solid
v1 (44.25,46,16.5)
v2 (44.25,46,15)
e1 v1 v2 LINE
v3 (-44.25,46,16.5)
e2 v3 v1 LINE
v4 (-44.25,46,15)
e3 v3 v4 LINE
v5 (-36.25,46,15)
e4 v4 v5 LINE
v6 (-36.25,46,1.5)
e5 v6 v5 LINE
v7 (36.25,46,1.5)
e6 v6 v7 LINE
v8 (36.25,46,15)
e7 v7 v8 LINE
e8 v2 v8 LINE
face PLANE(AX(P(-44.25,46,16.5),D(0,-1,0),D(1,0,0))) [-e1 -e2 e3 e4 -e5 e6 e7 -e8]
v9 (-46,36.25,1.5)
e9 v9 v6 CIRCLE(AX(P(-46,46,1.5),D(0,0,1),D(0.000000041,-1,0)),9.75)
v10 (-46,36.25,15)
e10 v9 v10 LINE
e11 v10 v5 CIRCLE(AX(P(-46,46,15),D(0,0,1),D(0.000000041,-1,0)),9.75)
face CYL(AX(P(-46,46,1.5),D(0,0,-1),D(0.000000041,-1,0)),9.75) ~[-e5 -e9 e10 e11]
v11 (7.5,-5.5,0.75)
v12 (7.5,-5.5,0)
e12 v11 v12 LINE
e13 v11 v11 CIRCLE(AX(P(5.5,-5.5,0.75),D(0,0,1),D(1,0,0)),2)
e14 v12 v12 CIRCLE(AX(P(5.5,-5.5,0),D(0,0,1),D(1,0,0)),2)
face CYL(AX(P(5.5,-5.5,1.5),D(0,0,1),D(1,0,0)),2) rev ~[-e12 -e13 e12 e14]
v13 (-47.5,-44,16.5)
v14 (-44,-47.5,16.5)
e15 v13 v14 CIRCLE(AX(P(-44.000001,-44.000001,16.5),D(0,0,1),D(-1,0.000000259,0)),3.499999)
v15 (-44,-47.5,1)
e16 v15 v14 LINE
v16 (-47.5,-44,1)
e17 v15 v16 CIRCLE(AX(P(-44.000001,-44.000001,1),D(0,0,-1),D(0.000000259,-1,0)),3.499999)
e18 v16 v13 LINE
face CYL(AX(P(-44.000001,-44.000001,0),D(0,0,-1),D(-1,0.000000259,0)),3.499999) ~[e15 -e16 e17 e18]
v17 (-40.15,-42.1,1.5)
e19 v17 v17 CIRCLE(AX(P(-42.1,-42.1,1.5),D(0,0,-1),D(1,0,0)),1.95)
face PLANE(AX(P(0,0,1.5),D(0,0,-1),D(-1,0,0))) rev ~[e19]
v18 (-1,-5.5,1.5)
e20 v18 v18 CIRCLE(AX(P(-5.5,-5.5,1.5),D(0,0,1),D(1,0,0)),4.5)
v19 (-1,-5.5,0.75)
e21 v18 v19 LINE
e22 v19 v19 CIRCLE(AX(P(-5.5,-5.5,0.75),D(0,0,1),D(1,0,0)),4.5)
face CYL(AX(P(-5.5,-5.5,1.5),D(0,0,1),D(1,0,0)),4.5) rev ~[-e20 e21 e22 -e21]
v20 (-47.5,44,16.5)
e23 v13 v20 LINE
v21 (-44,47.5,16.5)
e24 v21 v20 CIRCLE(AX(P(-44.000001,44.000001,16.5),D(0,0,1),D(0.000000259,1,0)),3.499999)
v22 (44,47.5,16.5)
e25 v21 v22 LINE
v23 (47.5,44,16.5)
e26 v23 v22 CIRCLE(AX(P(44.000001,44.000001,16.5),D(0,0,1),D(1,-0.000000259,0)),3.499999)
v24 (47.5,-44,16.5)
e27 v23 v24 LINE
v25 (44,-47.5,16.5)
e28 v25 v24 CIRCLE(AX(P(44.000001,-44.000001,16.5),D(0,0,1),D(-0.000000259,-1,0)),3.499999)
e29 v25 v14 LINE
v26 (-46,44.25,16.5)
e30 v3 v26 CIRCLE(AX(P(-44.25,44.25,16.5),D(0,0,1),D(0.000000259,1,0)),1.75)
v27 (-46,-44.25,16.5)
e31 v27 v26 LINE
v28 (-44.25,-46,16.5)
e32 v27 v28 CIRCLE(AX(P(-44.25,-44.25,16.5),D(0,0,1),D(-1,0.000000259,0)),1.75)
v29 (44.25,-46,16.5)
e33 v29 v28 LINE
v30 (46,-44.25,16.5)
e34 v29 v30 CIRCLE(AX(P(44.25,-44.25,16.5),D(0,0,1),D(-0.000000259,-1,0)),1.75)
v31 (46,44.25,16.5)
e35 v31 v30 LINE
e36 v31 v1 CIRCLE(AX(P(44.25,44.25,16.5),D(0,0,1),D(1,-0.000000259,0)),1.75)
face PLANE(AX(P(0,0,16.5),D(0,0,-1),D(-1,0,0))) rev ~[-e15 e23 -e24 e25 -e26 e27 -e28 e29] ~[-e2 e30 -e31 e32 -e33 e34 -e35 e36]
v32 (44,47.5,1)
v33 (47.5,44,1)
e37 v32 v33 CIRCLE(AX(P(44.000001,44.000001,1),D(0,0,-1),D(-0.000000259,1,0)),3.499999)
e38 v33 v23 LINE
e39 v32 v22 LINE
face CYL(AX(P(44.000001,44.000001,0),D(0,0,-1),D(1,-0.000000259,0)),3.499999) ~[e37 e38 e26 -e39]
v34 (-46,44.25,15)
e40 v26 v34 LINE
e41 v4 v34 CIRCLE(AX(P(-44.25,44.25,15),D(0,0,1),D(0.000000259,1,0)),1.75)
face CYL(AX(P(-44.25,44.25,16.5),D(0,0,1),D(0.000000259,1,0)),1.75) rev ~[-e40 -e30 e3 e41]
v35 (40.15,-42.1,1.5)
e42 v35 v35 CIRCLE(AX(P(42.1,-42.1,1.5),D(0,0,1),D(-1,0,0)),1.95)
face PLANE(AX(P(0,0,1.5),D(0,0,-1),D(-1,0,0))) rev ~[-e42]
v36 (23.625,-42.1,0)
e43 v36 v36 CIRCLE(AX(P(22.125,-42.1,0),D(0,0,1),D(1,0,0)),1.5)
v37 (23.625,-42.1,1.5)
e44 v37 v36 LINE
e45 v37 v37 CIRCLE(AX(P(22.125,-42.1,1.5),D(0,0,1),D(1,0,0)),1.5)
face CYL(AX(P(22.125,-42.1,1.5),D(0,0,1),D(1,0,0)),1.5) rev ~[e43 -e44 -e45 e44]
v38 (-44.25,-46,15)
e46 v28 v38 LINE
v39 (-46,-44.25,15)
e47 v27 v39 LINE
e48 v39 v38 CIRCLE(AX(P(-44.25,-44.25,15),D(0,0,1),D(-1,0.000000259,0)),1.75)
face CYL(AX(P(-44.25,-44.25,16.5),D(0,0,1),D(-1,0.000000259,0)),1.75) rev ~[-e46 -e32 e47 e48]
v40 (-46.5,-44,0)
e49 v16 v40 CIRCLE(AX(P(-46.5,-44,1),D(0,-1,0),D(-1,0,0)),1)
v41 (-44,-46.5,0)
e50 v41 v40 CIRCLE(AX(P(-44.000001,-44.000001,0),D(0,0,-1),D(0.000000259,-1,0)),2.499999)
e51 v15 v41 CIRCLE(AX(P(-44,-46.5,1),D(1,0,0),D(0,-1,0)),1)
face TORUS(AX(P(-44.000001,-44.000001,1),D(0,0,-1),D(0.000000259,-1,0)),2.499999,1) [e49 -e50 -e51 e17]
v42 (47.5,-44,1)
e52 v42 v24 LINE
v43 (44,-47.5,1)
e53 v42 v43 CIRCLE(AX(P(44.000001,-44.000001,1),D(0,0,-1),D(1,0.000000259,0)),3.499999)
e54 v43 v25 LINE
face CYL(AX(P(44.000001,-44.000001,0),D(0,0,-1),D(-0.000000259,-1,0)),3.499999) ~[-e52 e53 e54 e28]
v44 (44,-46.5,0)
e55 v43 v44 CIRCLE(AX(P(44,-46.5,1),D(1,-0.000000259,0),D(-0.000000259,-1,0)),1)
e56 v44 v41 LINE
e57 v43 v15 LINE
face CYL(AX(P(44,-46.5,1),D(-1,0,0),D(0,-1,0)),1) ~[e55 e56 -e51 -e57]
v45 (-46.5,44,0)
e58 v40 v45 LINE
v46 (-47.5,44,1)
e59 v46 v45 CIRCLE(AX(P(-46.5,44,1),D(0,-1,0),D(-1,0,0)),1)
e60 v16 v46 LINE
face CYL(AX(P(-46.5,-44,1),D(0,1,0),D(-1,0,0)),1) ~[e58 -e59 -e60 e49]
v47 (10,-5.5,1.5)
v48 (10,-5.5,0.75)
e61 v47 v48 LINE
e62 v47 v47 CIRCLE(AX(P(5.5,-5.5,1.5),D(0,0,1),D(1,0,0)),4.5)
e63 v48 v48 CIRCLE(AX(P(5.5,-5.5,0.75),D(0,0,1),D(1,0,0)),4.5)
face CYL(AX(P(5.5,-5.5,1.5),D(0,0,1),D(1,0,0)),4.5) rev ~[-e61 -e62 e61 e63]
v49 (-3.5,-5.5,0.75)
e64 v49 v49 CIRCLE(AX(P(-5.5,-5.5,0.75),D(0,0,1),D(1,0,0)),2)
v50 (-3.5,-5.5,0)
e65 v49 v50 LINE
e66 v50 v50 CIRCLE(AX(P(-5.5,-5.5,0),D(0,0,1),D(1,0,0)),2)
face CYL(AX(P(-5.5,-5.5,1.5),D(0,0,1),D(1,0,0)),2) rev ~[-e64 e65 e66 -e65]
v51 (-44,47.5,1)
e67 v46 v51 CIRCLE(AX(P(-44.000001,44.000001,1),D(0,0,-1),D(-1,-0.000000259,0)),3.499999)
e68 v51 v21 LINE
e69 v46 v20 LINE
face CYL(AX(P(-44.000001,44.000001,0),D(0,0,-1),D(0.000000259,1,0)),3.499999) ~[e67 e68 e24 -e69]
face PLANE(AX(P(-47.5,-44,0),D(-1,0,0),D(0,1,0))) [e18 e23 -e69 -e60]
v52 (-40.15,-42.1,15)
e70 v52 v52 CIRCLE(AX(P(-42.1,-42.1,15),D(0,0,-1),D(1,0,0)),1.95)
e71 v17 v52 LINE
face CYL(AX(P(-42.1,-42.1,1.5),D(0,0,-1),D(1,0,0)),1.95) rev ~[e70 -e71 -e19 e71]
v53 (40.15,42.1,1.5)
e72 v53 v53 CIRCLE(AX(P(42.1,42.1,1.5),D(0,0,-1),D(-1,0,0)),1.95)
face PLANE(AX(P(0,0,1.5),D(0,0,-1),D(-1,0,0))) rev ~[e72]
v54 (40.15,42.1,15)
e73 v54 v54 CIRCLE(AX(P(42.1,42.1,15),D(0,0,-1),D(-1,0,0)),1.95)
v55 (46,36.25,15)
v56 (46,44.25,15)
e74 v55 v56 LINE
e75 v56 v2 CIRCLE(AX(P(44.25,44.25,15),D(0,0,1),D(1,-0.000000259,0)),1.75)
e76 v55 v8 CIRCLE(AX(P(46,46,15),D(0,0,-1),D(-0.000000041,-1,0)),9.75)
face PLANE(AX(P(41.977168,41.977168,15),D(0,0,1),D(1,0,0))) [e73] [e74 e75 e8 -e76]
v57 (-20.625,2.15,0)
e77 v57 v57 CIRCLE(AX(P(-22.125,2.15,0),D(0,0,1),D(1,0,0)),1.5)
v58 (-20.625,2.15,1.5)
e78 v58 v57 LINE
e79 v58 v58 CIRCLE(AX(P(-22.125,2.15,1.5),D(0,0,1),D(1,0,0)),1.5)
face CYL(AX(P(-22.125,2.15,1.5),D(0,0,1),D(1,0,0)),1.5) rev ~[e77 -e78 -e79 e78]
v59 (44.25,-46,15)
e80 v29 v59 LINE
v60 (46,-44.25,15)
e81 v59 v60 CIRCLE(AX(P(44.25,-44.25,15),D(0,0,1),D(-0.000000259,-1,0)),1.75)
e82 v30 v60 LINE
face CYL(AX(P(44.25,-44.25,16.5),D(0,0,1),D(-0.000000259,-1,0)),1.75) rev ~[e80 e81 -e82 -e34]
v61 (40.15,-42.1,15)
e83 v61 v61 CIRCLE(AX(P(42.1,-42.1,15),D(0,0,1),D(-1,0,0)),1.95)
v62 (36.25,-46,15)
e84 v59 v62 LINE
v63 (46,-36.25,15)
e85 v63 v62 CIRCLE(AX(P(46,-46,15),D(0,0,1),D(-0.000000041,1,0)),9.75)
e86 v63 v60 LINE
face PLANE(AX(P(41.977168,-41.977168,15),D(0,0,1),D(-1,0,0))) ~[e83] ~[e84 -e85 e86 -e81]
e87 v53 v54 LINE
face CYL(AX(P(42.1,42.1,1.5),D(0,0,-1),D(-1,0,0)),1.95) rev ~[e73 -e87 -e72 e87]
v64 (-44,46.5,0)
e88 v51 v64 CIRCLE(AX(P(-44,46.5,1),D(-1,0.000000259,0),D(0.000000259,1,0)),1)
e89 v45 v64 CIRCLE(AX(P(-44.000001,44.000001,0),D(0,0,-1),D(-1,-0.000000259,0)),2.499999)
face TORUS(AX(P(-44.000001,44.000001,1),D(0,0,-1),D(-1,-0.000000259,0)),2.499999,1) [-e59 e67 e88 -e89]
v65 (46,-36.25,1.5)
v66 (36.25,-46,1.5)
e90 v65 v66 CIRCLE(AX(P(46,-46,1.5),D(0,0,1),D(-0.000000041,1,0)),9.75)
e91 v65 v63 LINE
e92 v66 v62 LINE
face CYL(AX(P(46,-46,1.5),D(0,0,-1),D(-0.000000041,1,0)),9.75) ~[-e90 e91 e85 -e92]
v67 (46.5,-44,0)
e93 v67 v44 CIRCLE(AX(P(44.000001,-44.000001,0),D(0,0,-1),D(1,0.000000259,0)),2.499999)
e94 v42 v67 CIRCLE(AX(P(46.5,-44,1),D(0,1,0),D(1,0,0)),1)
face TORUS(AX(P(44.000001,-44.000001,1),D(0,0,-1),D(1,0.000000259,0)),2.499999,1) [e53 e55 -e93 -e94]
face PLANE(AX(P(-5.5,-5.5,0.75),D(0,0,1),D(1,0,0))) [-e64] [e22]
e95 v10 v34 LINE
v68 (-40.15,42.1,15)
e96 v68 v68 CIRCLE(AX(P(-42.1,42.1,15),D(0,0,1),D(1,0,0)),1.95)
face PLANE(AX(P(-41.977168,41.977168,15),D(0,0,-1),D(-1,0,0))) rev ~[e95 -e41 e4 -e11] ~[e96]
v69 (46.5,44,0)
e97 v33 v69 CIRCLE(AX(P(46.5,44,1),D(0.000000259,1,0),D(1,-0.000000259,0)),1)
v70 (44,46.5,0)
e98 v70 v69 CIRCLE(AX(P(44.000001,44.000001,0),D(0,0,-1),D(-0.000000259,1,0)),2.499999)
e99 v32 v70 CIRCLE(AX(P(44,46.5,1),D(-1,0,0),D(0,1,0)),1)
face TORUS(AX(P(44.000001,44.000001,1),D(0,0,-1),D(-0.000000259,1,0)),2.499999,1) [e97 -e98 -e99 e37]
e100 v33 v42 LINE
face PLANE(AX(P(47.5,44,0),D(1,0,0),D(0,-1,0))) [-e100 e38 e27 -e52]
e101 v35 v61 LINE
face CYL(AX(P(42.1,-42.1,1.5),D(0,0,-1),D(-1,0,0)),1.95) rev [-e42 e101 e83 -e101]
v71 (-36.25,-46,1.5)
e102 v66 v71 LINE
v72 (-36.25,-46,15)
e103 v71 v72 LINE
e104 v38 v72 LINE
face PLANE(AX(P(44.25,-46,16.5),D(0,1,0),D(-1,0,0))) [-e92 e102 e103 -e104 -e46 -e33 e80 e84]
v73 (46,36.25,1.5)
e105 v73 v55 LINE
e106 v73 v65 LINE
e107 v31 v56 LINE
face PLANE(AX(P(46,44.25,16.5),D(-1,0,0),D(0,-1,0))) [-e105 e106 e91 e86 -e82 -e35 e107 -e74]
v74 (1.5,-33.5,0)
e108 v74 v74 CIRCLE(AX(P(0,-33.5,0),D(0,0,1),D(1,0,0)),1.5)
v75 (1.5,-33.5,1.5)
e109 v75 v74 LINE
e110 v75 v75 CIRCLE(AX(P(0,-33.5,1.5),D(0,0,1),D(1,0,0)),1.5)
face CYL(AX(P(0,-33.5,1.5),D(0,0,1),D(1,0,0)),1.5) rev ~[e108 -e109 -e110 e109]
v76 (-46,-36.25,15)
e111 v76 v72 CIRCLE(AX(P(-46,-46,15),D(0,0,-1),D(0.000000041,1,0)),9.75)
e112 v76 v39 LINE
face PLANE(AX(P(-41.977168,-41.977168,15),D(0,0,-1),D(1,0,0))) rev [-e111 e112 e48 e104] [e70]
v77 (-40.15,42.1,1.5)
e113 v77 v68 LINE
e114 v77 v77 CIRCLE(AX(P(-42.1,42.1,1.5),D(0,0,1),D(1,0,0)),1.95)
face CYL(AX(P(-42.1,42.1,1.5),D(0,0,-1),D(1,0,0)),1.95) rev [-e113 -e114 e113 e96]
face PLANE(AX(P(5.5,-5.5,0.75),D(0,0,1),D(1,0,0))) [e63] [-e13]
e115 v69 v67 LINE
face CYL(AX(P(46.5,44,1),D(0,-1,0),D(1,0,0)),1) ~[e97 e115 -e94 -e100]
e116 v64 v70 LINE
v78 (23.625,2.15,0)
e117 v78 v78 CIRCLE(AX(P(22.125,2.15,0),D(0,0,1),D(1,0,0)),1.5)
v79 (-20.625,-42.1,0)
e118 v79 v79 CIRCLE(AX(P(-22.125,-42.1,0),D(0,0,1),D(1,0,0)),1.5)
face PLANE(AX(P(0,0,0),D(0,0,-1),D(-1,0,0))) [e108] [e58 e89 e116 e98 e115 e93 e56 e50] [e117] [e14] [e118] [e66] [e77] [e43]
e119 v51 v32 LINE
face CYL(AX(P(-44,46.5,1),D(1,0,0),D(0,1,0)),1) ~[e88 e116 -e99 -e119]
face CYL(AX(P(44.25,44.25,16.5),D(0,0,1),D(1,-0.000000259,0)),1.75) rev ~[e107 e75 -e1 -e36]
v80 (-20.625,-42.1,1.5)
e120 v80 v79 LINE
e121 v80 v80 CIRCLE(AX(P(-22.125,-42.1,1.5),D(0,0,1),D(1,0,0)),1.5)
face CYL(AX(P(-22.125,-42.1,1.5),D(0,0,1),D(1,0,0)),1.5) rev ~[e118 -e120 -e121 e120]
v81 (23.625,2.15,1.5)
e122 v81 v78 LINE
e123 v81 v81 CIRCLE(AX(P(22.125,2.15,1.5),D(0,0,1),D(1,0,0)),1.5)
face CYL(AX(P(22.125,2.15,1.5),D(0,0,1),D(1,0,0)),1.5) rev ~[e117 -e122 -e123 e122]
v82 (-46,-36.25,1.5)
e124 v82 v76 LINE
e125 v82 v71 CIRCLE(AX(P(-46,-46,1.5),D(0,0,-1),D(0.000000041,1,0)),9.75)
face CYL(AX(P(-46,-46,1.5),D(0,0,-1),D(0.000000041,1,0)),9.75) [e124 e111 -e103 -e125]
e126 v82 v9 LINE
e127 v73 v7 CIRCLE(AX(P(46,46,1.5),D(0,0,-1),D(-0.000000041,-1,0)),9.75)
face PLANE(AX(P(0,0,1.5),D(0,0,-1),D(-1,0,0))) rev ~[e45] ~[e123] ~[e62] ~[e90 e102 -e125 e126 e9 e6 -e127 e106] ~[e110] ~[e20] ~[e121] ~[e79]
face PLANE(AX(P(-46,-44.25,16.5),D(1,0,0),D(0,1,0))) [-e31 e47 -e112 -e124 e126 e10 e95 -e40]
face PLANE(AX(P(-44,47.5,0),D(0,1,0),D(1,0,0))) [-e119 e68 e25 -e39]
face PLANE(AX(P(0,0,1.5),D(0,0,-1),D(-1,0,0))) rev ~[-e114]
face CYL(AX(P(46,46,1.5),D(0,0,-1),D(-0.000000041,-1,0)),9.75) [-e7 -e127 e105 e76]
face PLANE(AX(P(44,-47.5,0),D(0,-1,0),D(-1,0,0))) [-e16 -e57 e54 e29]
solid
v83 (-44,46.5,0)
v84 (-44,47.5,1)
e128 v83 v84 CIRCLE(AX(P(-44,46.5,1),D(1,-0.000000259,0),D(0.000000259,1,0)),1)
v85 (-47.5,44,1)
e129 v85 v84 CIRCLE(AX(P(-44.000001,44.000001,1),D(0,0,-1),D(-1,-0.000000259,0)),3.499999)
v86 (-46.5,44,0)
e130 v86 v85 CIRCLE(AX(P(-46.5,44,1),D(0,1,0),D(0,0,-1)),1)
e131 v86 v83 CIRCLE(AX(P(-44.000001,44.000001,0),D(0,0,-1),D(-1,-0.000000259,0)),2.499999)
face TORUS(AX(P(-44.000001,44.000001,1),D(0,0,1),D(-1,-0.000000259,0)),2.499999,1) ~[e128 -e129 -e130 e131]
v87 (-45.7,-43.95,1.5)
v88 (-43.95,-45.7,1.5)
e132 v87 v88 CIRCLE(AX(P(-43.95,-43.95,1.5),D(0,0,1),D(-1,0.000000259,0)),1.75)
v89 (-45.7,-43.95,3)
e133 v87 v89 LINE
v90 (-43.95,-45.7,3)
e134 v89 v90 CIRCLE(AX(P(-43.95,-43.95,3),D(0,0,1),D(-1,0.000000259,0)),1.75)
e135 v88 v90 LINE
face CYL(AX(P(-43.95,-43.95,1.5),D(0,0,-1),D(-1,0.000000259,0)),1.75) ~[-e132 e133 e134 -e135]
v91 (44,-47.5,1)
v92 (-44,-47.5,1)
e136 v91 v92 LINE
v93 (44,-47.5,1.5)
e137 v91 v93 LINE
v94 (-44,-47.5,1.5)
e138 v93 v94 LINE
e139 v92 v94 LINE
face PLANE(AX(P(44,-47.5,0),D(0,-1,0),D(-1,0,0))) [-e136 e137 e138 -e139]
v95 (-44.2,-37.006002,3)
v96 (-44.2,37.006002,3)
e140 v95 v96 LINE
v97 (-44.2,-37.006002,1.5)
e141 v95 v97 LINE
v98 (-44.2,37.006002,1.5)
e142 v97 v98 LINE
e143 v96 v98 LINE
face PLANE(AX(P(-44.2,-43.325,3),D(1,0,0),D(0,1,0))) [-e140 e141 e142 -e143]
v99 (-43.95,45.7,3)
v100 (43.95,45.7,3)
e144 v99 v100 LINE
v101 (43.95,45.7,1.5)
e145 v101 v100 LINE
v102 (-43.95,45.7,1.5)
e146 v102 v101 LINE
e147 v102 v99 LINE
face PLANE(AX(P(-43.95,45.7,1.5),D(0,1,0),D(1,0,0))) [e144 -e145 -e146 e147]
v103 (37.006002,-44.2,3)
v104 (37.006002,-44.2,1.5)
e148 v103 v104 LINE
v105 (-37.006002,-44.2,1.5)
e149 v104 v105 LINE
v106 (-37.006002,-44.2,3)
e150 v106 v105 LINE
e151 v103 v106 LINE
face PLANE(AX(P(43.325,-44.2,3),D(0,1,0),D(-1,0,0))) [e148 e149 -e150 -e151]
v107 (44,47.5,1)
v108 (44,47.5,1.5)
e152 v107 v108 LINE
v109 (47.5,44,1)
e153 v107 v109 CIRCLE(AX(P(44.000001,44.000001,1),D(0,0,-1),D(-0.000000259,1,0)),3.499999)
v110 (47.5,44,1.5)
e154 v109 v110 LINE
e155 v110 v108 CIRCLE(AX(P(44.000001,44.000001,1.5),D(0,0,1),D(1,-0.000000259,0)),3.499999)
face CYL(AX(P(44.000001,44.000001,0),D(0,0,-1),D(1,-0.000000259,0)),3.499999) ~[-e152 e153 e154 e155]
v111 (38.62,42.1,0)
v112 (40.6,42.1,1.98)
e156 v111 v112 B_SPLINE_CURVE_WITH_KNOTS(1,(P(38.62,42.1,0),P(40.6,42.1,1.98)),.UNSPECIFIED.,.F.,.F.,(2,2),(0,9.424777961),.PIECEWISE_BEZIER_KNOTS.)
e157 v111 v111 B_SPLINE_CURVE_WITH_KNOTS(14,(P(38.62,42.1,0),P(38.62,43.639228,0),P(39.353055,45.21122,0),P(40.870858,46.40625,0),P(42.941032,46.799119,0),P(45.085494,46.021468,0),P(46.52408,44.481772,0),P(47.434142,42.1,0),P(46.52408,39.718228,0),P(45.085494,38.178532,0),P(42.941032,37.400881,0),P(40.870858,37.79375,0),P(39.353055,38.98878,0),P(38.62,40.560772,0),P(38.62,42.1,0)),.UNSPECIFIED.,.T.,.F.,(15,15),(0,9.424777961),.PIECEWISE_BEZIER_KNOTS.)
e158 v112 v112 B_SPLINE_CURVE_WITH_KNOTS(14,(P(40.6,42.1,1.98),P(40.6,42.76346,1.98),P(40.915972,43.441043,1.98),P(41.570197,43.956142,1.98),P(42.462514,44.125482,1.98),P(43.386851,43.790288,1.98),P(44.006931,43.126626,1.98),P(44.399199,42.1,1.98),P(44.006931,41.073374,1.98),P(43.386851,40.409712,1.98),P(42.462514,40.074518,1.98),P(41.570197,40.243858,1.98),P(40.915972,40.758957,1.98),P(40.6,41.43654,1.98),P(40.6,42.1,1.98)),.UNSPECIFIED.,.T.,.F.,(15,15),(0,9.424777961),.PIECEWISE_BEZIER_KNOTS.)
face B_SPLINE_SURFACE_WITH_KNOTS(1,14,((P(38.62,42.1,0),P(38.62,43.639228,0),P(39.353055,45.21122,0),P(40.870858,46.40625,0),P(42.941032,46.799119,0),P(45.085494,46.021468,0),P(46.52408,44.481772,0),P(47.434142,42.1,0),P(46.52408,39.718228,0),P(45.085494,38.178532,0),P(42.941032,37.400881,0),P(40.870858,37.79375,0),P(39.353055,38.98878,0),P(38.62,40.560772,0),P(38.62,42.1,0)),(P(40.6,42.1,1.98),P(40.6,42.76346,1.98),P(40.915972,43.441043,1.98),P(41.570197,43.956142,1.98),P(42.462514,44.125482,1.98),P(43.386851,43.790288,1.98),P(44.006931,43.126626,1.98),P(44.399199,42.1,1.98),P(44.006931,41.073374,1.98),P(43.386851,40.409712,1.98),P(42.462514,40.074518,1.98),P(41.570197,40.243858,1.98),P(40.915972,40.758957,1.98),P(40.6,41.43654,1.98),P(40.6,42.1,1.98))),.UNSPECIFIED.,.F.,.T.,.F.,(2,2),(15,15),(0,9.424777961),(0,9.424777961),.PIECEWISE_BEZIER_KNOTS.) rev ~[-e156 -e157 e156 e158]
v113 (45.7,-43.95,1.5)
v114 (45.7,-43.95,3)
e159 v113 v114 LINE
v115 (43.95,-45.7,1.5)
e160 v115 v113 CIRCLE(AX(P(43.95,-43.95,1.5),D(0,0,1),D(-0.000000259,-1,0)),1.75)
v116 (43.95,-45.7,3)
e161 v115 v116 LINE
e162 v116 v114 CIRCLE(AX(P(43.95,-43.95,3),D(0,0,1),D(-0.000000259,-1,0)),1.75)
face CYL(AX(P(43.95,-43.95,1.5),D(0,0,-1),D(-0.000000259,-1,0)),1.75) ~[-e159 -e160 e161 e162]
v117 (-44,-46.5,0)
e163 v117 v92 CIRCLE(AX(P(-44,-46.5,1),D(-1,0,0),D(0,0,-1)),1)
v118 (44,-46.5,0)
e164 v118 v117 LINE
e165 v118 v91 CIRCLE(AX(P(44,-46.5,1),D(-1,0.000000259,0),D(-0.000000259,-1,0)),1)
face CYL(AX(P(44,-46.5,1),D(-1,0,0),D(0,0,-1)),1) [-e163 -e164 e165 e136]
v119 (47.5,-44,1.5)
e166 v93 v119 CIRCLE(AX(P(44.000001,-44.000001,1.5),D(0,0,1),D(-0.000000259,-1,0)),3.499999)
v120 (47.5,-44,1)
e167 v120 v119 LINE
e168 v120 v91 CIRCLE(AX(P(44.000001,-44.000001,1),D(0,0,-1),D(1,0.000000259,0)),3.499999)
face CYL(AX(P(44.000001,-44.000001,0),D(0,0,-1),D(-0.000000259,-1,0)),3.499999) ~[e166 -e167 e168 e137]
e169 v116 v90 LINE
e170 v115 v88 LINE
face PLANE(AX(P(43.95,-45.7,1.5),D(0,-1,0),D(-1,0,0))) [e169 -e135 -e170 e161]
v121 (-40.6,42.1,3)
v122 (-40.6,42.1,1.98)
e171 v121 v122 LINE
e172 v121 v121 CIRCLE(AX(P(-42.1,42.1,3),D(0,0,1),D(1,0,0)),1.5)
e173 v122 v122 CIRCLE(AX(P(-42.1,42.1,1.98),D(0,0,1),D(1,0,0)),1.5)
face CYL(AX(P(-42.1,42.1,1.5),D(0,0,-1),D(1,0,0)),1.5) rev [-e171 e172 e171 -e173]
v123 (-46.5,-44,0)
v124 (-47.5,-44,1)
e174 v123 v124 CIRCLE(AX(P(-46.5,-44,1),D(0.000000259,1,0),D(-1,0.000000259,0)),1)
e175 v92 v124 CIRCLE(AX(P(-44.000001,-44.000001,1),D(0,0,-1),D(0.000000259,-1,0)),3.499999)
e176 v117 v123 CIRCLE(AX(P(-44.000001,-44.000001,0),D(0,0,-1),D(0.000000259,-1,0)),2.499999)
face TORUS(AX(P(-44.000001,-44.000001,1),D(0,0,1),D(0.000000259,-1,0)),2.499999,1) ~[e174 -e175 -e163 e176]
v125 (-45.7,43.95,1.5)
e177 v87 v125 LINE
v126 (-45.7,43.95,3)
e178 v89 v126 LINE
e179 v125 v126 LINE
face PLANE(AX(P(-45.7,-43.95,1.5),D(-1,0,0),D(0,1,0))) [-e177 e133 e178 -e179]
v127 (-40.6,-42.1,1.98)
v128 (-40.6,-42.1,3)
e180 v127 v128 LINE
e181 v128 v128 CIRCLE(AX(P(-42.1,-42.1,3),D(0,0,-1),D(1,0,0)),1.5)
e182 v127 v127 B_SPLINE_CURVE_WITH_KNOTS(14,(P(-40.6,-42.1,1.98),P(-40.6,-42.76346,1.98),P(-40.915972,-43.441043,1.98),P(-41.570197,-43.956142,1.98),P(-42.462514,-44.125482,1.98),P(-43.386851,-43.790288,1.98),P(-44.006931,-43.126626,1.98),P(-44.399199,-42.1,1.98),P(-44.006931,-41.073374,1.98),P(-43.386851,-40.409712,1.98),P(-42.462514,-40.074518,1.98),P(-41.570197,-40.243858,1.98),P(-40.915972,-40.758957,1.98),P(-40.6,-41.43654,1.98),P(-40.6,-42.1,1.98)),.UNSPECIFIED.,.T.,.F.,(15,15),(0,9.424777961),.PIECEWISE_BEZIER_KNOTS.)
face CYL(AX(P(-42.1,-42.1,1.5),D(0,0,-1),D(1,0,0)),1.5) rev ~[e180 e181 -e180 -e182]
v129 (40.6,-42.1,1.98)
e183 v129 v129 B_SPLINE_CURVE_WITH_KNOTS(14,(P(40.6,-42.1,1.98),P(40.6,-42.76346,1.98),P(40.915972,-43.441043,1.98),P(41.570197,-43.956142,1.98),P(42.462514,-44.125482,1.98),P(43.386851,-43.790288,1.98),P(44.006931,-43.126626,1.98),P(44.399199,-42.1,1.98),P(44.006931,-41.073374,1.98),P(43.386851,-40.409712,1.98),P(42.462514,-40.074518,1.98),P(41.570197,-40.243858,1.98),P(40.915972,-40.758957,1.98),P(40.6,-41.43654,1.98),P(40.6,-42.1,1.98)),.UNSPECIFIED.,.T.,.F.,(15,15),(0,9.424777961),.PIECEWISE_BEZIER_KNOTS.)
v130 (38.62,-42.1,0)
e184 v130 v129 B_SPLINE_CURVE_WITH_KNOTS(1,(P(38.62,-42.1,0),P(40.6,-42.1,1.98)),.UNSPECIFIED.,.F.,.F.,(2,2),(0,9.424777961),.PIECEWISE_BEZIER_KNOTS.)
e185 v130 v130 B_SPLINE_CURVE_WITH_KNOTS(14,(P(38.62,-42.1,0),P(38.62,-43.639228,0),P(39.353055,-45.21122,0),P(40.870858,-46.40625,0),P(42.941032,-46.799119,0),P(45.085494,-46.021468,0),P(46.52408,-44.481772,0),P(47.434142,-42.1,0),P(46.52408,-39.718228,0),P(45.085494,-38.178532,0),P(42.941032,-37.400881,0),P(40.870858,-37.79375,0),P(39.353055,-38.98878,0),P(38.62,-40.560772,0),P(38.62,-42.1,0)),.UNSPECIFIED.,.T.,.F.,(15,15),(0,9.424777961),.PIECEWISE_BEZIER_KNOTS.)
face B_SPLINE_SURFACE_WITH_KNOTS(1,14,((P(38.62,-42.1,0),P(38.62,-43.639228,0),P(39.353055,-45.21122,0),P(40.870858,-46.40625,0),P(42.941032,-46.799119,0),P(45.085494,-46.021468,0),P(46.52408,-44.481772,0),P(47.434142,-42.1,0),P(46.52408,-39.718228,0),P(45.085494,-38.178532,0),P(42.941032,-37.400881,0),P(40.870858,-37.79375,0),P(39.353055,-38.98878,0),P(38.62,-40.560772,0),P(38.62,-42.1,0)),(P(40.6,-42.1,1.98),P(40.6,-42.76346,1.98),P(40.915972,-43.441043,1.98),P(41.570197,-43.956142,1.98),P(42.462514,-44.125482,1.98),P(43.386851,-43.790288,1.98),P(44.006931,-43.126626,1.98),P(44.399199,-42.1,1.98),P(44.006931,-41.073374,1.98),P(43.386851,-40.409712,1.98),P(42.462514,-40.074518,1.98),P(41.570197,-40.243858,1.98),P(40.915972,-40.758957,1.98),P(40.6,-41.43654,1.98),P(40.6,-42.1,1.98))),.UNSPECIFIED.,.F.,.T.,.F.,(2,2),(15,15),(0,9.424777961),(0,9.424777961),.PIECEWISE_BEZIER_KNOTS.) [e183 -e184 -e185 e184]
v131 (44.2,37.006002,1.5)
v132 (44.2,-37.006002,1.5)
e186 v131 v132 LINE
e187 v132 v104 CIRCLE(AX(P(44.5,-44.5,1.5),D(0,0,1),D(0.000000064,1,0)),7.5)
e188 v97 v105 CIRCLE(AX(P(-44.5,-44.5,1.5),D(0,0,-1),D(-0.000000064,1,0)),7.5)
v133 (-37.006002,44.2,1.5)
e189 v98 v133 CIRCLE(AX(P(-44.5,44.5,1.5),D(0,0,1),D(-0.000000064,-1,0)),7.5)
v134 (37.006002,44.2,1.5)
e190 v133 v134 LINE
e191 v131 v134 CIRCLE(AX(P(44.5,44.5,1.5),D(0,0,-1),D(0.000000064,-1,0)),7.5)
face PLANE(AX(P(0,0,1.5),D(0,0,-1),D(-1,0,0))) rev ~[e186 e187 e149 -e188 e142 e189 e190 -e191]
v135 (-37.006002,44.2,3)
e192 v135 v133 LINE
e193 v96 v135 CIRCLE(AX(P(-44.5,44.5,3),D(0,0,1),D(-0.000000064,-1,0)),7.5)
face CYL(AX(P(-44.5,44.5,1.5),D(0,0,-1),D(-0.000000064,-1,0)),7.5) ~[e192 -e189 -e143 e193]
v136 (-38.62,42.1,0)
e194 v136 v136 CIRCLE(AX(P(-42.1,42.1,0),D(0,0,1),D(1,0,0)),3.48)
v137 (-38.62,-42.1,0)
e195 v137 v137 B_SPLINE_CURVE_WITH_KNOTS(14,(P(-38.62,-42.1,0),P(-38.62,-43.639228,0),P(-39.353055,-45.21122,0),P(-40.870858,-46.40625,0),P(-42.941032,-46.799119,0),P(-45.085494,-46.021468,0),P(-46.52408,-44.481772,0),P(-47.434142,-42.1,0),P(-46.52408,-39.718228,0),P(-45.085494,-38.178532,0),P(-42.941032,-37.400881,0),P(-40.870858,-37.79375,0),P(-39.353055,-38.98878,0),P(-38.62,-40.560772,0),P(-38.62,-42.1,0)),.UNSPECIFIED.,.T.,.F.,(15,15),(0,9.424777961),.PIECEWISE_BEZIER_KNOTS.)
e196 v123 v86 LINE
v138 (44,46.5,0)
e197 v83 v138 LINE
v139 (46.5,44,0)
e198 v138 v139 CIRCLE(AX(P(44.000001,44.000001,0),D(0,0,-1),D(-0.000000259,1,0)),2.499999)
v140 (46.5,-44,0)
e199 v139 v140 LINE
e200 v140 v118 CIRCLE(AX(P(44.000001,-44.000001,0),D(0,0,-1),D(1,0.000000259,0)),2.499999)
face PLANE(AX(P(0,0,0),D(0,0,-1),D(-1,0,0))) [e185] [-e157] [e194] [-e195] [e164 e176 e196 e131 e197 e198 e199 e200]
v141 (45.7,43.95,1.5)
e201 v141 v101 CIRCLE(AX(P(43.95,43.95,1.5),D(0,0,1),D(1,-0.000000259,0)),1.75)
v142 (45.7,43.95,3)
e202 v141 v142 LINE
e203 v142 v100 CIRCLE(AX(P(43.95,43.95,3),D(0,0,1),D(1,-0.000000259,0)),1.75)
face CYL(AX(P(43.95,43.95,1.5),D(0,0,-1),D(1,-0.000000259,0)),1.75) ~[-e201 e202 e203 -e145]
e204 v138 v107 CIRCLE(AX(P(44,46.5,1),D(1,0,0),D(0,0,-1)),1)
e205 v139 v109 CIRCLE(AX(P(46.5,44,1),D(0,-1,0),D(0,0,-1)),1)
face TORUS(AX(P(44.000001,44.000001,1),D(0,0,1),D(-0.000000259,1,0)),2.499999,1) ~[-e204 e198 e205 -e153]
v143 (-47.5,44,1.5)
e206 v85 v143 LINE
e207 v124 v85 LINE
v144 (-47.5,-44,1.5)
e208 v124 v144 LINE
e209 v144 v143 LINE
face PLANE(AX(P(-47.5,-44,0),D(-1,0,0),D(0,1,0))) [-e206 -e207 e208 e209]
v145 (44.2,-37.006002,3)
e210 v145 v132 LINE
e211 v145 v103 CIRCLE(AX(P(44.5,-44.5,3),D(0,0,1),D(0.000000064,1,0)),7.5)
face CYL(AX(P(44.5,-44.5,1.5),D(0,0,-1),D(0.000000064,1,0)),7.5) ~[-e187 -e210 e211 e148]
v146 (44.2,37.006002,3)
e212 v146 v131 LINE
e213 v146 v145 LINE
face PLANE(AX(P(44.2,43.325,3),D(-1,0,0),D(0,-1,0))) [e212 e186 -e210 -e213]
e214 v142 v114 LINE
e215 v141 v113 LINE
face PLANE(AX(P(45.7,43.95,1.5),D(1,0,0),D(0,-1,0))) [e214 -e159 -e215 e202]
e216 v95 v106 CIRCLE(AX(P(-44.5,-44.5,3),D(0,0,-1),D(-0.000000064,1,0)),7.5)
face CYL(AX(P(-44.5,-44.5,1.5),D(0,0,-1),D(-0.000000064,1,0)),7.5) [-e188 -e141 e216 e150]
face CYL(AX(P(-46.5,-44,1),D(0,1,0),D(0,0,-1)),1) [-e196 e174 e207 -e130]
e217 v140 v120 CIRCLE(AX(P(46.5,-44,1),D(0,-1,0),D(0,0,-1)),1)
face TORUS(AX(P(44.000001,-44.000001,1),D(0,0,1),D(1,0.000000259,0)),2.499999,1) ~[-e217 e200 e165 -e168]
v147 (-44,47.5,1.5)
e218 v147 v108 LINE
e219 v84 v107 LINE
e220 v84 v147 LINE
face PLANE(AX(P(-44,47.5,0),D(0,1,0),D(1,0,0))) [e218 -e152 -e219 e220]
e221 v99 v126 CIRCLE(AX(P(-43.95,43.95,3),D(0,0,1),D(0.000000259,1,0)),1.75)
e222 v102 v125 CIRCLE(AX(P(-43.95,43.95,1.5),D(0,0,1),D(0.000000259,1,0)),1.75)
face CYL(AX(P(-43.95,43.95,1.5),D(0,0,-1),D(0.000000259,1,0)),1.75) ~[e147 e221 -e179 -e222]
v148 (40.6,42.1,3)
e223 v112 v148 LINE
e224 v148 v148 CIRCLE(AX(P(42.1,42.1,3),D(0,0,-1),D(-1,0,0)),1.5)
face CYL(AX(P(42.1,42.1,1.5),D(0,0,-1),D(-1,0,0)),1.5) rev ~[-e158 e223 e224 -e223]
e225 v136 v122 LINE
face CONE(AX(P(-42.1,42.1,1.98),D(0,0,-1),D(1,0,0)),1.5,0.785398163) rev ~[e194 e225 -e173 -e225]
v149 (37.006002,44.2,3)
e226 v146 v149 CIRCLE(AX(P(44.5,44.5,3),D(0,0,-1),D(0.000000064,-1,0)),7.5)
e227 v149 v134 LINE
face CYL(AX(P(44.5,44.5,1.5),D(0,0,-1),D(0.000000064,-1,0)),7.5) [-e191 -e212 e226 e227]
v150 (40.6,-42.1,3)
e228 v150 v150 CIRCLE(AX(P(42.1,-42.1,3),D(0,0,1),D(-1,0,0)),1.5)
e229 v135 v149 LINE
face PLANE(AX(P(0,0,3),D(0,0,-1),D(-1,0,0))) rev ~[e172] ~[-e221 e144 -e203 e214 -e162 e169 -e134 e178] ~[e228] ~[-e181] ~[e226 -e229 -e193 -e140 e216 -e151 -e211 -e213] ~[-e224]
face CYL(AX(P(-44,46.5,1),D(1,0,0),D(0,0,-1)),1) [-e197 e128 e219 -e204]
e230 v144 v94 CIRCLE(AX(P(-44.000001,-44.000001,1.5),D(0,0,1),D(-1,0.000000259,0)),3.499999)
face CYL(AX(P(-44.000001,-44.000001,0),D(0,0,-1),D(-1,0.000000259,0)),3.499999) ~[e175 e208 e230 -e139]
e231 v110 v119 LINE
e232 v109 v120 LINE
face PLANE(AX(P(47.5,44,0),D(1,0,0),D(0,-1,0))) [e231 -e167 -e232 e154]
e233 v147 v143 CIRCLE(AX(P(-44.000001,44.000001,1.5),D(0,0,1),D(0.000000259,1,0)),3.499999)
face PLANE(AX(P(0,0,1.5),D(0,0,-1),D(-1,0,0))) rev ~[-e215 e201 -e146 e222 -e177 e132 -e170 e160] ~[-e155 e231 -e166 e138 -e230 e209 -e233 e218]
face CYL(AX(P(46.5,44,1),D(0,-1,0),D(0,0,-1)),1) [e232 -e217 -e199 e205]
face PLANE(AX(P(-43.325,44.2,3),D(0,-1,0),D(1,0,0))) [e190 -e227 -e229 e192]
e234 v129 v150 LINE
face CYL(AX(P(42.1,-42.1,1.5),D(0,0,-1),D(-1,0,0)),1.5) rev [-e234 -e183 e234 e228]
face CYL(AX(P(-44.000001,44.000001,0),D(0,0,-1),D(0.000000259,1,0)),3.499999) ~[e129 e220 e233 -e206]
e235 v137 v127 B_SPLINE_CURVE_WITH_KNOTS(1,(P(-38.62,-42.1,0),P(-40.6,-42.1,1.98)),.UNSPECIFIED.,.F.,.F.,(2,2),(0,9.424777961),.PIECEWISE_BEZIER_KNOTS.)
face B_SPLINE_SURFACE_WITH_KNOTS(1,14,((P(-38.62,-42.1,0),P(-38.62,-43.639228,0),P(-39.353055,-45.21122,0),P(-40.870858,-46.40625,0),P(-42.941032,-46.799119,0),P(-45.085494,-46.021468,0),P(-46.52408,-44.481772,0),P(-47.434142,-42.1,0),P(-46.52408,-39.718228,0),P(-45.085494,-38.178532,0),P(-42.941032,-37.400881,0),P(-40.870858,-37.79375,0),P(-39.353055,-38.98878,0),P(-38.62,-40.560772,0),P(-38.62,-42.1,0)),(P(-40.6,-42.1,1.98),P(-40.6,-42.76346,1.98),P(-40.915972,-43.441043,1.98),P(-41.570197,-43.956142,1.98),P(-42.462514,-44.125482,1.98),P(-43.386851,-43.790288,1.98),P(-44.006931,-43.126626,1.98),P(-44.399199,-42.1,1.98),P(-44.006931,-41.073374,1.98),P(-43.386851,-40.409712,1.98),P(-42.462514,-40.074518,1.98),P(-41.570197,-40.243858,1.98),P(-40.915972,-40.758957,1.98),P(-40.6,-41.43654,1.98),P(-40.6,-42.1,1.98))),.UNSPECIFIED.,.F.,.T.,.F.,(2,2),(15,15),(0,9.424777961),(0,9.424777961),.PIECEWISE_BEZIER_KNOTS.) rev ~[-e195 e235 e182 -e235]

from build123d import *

# Parameters (mm, degrees)
PAD_DEPTH                     = 16.5
POCKET_DEPTH                  = 15
SKETCH002_R                   = 1.95
PAD001_DEPTH                  = 13.5
SKETCH002_MIRRORED_2_R        = 1.95
PAD001_MIRRORED_2_DEPTH       = 13.5
FILLET_R                      = 1
SKETCH008_R                   = 1.5
SKETCH008_R_2                 = 2
POCKET003_DEPTH               = 5
SKETCH009_R                   = 4.5
POCKET004_DEPTH               = 0.75
PAD002_DEPTH                  = 1.5
PAD003_DEPTH                  = 1.5
POCKET001_DEPTH               = 1.5
SKETCH006_R                   = 1.5
PAD004_DEPTH                  = 1.5
SKETCH006_MIRRORED002_2_R     = 1.5
PAD004_MIRRORED002_2_DEPTH    = 1.5
SKETCH007_R                   = 1.5
POCKET002_DEPTH               = 1.5
SKETCH007_MIRRORED004_2_R     = 1.5
POCKET002_MIRRORED004_2_DEPTH = 1.5
FILLET001_R                   = 1
CHAMFER_SIZE                  = 1.98


with BuildPart() as main_box:
    # Sketch → Pad (new body)
    with BuildSketch(Plane.XY):
        with BuildLine():
            Line((-44, 47.5), (44, 47.5))
            ThreePointArc((47.5, 44), (46.474874, 46.474874), (44, 47.5))
            Line((47.5, 44), (47.5, -44))
            ThreePointArc((44, -47.5), (46.474874, -46.474874), (47.5, -44))
            Line((44, -47.5), (-44, -47.5))
            ThreePointArc((-47.5, -44), (-46.474874, -46.474874), (-44, -47.5))
            Line((-47.5, -44), (-47.5, 44))
            ThreePointArc((-44, 47.5), (-46.474874, 46.474874), (-47.5, 44))
        make_face()
    extrude(amount=PAD_DEPTH)

    # Sketch001 (on Face10 of Pad) → Pocket (cut)
    with BuildSketch(Plane.XY.offset(16.5)):
        with BuildLine():
            Line((-44.25, 46), (44.25, 46))
            ThreePointArc((46, 44.25), (45.487437, 45.487437), (44.25, 46))
            Line((46, 44.25), (46, -44.25))
            ThreePointArc((44.25, -46), (45.487437, -45.487437), (46, -44.25))
            Line((44.25, -46), (-44.25, -46))
            ThreePointArc((-46, -44.25), (-45.487437, -45.487437), (-44.25, -46))
            Line((-46, -44.25), (-46, 44.25))
            ThreePointArc((-44.25, 46), (-45.487437, 45.487437), (-46, 44.25))
        make_face()
    extrude(amount=-POCKET_DEPTH, mode=Mode.SUBTRACT)

    # Sketch002 (on Face19 of Pocket) → Pad001 (join)
    with BuildSketch(Plane.XY.offset(1.5)):
        with BuildLine():
            Line((-46, 36.25), (-46, 46))
            Line((-46, 46), (-36.25, 46))
            ThreePointArc((-46, 36.25), (-39.105709, 39.105709), (-36.25, 46))
        make_face()
        with Locations((-42.1, 42.1)):
            Circle(SKETCH002_R, mode=Mode.SUBTRACT)
    pad001 = extrude(amount=PAD001_DEPTH)

    # Sketch002 Mirrored 2 → Pad001 Mirrored 2 (add)
    with BuildSketch(Plane(origin=(0, 0, 1.5), x_dir=(-1, 0, 0), z_dir=(0, 0, -1))):
        with BuildLine():
            Line((-46, 36.25), (-46, 46))
            Line((-46, 46), (-36.25, 46))
            ThreePointArc((-46, 36.25), (-39.105709, 39.105709), (-36.25, 46))
        make_face()
        with Locations((-42.1, 42.1)):
            Circle(SKETCH002_MIRRORED_2_R, mode=Mode.SUBTRACT)
    pad001_mirrored_2 = extrude(amount=-PAD001_MIRRORED_2_DEPTH)

    # Mirrored001: Pad001, Pad001 Mirrored 2 across Sketch002 H_Axis
    add(pad001.mirror(Plane(origin=(0, 0, 1.5), x_dir=(0, 0, 1), z_dir=(0, 1, 0))))
    add(pad001_mirrored_2.mirror(Plane(origin=(0, 0, 1.5), x_dir=(0, 0, 1), z_dir=(0, 1, 0))))

    # Fillet
    fillet_edges = [main_box.edges().sort_by_distance(p)[0] for p in [
        (-47.5, 0, 0),
        (-46.474874, 46.474874, 0),
        (0, 47.5, 0),
        (46.474874, 46.474874, 0),
        (47.5, 0, 0),
        (46.474874, -46.474874, 0),
        (0, -47.5, 0),
        (-46.474874, -46.474874, 0),
    ]]
    fillet(fillet_edges, radius=FILLET_R)

    # Sketch008 (on Face29 of Fillet) → Pocket003 (cut)
    with BuildSketch(Plane.XY.offset(1.5)):
        with Locations((0, -33.5)):
            Circle(SKETCH008_R)
        with Locations((-5.5, -5.5)):
            Circle(SKETCH008_R_2)
        with Locations((5.5, -5.5)):
            Circle(SKETCH008_R_2)
        with Locations((-22.125, 2.15)):
            Circle(SKETCH008_R)
        with Locations((-22.125, -42.1)):
            Circle(SKETCH008_R)
        with Locations((22.125, -42.1)):
            Circle(SKETCH008_R)
        with Locations((22.125, 2.15)):
            Circle(SKETCH008_R)
    extrude(amount=-POCKET003_DEPTH, mode=Mode.SUBTRACT)

    # Sketch009 (on Face36 of Pocket003) → Pocket004 (cut)
    with BuildSketch(Plane.XY.offset(1.5)):
        with Locations((-5.5, -5.5)):
            Circle(SKETCH009_R)
        with Locations((5.5, -5.5)):
            Circle(SKETCH009_R)
    extrude(amount=-POCKET004_DEPTH, mode=Mode.SUBTRACT)


with BuildPart() as main_lid:
    # Sketch003 → Pad002 (new body)
    with BuildSketch(Plane.XY):
        with BuildLine():
            Line((-44, 47.5), (44, 47.5))
            ThreePointArc((47.5, 44), (46.474874, 46.474874), (44, 47.5))
            Line((47.5, 44), (47.5, -44))
            ThreePointArc((44, -47.5), (46.474874, -46.474874), (47.5, -44))
            Line((44, -47.5), (-44, -47.5))
            ThreePointArc((-47.5, -44), (-46.474874, -46.474874), (-44, -47.5))
            Line((-47.5, -44), (-47.5, 44))
            ThreePointArc((-44, 47.5), (-46.474874, 46.474874), (-47.5, 44))
        make_face()
    extrude(amount=PAD002_DEPTH)

    # Sketch004 (on Face10 of Pad002) → Pad003 (join)
    with BuildSketch(Plane.XY.offset(1.5)):
        with BuildLine():
            Line((-43.95, 45.7), (43.95, 45.7))
            ThreePointArc((45.7, 43.95), (45.187437, 45.187437), (43.95, 45.7))
            Line((45.7, 43.95), (45.7, -43.95))
            ThreePointArc((43.95, -45.7), (45.187437, -45.187437), (45.7, -43.95))
            Line((43.95, -45.7), (-43.95, -45.7))
            ThreePointArc((-45.7, -43.95), (-45.187437, -45.187437), (-43.95, -45.7))
            Line((-45.7, -43.95), (-45.7, 43.95))
            ThreePointArc((-43.95, 45.7), (-45.187437, 45.187437), (-45.7, 43.95))
        make_face()
    extrude(amount=PAD003_DEPTH)

    # Sketch005 (on Face19 of Pad003) → Pocket001 (cut)
    with BuildSketch(Plane.XY.offset(3)):
        with BuildLine():
            Line((-43.325, 44.2), (43.325, 44.2))
            ThreePointArc((44.2, 43.325), (43.943718, 43.943718), (43.325, 44.2))
            Line((44.2, 43.325), (44.2, -43.325))
            ThreePointArc((43.325, -44.2), (43.943718, -43.943718), (44.2, -43.325))
            Line((43.325, -44.2), (-43.325, -44.2))
            ThreePointArc((-44.2, -43.325), (-43.943718, -43.943718), (-43.325, -44.2))
            Line((-44.2, -43.325), (-44.2, 43.325))
            ThreePointArc((-43.325, 44.2), (-43.943718, 43.943718), (-44.2, 43.325))
        make_face()
    extrude(amount=-POCKET001_DEPTH, mode=Mode.SUBTRACT)

    # Sketch006 (on Face28 of Pocket001) → Pad004 (join)
    with BuildSketch(Plane.XY.offset(1.5)):
        with BuildLine():
            Line((-44.5, 37), (-44.5, 44.5))
            Line((-44.5, 44.5), (-37, 44.5))
            ThreePointArc((-44.5, 37), (-39.196699, 39.196699), (-37, 44.5))
        make_face()
        with Locations((-42.1, 42.1)):
            Circle(SKETCH006_R, mode=Mode.SUBTRACT)
    pad004 = extrude(amount=PAD004_DEPTH)

    # Sketch006 Mirrored002 2 → Pad004 Mirrored002 2 (add)
    with BuildSketch(Plane(origin=(0, 0, 1.5), x_dir=(-1, 0, 0), z_dir=(0, 0, -1))):
        with BuildLine():
            Line((-44.5, 37), (-44.5, 44.5))
            Line((-44.5, 44.5), (-37, 44.5))
            ThreePointArc((-44.5, 37), (-39.196699, 39.196699), (-37, 44.5))
        make_face()
        with Locations((-42.1, 42.1)):
            Circle(SKETCH006_MIRRORED002_2_R, mode=Mode.SUBTRACT)
    pad004_mirrored002_2 = extrude(amount=-PAD004_MIRRORED002_2_DEPTH)

    # Mirrored003: Pad004, Pad004 Mirrored002 2 across Sketch006 H_Axis
    add(pad004.mirror(Plane(origin=(0, 0, 1.5), x_dir=(0, 0, 1), z_dir=(0, 1, 0))))
    add(pad004_mirrored002_2.mirror(Plane(origin=(0, 0, 1.5), x_dir=(0, 0, 1), z_dir=(0, 1, 0))))

    # Sketch007 (on Face30 of MultiTransform001) → Pocket002 (cut)
    with BuildSketch(Plane.XY.offset(1.5)):
        with Locations((-42.1, 42.1)):
            Circle(SKETCH007_R)
    pocket002 = extrude(amount=-POCKET002_DEPTH, mode=Mode.SUBTRACT)

    # Sketch007 Mirrored004 2 → Pocket002 Mirrored004 2 (cut)
    with BuildSketch(Plane(origin=(0, 0, 1.5), x_dir=(-1, 0, 0), z_dir=(0, 0, -1))):
        with Locations((-42.1, 42.1)):
            Circle(SKETCH007_MIRRORED004_2_R)
    pocket002_mirrored004_2 = extrude(amount=POCKET002_MIRRORED004_2_DEPTH, mode=Mode.SUBTRACT)

    # Mirrored005: Pocket002, Pocket002 Mirrored004 2 across Sketch007 H_Axis
    add(pocket002.mirror(Plane(origin=(0, 0, 1.5), x_dir=(0, 0, 1), z_dir=(0, 1, 0))), mode=Mode.SUBTRACT)
    add(pocket002_mirrored004_2.mirror(Plane(origin=(0, 0, 1.5), x_dir=(0, 0, 1), z_dir=(0, 1, 0))), mode=Mode.SUBTRACT)

    # Fillet001
    fillet001_edges = [main_lid.edges().sort_by_distance(p)[0] for p in [
        (47.5, 0, 0),
        (46.474874, 46.474874, 0),
        (0, 47.5, 0),
        (-46.474874, 46.474874, 0),
        (-47.5, 0, 0),
        (-46.474874, -46.474874, 0),
        (0, -47.5, 0),
        (46.474874, -46.474874, 0),
    ]]
    fillet(fillet001_edges, radius=FILLET001_R)

    # Chamfer
    chamfer_edges = [main_lid.edges().sort_by_distance(p)[0] for p in [
        (43.6, 42.1, 0),
        (-43.6, 42.1, 0),
        (-43.6, -42.1, 0),
        (43.6, -42.1, 0),
    ]]
    chamfer(chamfer_edges, length=CHAMFER_SIZE)


solid = Compound([main_box.part, main_lid.part])
